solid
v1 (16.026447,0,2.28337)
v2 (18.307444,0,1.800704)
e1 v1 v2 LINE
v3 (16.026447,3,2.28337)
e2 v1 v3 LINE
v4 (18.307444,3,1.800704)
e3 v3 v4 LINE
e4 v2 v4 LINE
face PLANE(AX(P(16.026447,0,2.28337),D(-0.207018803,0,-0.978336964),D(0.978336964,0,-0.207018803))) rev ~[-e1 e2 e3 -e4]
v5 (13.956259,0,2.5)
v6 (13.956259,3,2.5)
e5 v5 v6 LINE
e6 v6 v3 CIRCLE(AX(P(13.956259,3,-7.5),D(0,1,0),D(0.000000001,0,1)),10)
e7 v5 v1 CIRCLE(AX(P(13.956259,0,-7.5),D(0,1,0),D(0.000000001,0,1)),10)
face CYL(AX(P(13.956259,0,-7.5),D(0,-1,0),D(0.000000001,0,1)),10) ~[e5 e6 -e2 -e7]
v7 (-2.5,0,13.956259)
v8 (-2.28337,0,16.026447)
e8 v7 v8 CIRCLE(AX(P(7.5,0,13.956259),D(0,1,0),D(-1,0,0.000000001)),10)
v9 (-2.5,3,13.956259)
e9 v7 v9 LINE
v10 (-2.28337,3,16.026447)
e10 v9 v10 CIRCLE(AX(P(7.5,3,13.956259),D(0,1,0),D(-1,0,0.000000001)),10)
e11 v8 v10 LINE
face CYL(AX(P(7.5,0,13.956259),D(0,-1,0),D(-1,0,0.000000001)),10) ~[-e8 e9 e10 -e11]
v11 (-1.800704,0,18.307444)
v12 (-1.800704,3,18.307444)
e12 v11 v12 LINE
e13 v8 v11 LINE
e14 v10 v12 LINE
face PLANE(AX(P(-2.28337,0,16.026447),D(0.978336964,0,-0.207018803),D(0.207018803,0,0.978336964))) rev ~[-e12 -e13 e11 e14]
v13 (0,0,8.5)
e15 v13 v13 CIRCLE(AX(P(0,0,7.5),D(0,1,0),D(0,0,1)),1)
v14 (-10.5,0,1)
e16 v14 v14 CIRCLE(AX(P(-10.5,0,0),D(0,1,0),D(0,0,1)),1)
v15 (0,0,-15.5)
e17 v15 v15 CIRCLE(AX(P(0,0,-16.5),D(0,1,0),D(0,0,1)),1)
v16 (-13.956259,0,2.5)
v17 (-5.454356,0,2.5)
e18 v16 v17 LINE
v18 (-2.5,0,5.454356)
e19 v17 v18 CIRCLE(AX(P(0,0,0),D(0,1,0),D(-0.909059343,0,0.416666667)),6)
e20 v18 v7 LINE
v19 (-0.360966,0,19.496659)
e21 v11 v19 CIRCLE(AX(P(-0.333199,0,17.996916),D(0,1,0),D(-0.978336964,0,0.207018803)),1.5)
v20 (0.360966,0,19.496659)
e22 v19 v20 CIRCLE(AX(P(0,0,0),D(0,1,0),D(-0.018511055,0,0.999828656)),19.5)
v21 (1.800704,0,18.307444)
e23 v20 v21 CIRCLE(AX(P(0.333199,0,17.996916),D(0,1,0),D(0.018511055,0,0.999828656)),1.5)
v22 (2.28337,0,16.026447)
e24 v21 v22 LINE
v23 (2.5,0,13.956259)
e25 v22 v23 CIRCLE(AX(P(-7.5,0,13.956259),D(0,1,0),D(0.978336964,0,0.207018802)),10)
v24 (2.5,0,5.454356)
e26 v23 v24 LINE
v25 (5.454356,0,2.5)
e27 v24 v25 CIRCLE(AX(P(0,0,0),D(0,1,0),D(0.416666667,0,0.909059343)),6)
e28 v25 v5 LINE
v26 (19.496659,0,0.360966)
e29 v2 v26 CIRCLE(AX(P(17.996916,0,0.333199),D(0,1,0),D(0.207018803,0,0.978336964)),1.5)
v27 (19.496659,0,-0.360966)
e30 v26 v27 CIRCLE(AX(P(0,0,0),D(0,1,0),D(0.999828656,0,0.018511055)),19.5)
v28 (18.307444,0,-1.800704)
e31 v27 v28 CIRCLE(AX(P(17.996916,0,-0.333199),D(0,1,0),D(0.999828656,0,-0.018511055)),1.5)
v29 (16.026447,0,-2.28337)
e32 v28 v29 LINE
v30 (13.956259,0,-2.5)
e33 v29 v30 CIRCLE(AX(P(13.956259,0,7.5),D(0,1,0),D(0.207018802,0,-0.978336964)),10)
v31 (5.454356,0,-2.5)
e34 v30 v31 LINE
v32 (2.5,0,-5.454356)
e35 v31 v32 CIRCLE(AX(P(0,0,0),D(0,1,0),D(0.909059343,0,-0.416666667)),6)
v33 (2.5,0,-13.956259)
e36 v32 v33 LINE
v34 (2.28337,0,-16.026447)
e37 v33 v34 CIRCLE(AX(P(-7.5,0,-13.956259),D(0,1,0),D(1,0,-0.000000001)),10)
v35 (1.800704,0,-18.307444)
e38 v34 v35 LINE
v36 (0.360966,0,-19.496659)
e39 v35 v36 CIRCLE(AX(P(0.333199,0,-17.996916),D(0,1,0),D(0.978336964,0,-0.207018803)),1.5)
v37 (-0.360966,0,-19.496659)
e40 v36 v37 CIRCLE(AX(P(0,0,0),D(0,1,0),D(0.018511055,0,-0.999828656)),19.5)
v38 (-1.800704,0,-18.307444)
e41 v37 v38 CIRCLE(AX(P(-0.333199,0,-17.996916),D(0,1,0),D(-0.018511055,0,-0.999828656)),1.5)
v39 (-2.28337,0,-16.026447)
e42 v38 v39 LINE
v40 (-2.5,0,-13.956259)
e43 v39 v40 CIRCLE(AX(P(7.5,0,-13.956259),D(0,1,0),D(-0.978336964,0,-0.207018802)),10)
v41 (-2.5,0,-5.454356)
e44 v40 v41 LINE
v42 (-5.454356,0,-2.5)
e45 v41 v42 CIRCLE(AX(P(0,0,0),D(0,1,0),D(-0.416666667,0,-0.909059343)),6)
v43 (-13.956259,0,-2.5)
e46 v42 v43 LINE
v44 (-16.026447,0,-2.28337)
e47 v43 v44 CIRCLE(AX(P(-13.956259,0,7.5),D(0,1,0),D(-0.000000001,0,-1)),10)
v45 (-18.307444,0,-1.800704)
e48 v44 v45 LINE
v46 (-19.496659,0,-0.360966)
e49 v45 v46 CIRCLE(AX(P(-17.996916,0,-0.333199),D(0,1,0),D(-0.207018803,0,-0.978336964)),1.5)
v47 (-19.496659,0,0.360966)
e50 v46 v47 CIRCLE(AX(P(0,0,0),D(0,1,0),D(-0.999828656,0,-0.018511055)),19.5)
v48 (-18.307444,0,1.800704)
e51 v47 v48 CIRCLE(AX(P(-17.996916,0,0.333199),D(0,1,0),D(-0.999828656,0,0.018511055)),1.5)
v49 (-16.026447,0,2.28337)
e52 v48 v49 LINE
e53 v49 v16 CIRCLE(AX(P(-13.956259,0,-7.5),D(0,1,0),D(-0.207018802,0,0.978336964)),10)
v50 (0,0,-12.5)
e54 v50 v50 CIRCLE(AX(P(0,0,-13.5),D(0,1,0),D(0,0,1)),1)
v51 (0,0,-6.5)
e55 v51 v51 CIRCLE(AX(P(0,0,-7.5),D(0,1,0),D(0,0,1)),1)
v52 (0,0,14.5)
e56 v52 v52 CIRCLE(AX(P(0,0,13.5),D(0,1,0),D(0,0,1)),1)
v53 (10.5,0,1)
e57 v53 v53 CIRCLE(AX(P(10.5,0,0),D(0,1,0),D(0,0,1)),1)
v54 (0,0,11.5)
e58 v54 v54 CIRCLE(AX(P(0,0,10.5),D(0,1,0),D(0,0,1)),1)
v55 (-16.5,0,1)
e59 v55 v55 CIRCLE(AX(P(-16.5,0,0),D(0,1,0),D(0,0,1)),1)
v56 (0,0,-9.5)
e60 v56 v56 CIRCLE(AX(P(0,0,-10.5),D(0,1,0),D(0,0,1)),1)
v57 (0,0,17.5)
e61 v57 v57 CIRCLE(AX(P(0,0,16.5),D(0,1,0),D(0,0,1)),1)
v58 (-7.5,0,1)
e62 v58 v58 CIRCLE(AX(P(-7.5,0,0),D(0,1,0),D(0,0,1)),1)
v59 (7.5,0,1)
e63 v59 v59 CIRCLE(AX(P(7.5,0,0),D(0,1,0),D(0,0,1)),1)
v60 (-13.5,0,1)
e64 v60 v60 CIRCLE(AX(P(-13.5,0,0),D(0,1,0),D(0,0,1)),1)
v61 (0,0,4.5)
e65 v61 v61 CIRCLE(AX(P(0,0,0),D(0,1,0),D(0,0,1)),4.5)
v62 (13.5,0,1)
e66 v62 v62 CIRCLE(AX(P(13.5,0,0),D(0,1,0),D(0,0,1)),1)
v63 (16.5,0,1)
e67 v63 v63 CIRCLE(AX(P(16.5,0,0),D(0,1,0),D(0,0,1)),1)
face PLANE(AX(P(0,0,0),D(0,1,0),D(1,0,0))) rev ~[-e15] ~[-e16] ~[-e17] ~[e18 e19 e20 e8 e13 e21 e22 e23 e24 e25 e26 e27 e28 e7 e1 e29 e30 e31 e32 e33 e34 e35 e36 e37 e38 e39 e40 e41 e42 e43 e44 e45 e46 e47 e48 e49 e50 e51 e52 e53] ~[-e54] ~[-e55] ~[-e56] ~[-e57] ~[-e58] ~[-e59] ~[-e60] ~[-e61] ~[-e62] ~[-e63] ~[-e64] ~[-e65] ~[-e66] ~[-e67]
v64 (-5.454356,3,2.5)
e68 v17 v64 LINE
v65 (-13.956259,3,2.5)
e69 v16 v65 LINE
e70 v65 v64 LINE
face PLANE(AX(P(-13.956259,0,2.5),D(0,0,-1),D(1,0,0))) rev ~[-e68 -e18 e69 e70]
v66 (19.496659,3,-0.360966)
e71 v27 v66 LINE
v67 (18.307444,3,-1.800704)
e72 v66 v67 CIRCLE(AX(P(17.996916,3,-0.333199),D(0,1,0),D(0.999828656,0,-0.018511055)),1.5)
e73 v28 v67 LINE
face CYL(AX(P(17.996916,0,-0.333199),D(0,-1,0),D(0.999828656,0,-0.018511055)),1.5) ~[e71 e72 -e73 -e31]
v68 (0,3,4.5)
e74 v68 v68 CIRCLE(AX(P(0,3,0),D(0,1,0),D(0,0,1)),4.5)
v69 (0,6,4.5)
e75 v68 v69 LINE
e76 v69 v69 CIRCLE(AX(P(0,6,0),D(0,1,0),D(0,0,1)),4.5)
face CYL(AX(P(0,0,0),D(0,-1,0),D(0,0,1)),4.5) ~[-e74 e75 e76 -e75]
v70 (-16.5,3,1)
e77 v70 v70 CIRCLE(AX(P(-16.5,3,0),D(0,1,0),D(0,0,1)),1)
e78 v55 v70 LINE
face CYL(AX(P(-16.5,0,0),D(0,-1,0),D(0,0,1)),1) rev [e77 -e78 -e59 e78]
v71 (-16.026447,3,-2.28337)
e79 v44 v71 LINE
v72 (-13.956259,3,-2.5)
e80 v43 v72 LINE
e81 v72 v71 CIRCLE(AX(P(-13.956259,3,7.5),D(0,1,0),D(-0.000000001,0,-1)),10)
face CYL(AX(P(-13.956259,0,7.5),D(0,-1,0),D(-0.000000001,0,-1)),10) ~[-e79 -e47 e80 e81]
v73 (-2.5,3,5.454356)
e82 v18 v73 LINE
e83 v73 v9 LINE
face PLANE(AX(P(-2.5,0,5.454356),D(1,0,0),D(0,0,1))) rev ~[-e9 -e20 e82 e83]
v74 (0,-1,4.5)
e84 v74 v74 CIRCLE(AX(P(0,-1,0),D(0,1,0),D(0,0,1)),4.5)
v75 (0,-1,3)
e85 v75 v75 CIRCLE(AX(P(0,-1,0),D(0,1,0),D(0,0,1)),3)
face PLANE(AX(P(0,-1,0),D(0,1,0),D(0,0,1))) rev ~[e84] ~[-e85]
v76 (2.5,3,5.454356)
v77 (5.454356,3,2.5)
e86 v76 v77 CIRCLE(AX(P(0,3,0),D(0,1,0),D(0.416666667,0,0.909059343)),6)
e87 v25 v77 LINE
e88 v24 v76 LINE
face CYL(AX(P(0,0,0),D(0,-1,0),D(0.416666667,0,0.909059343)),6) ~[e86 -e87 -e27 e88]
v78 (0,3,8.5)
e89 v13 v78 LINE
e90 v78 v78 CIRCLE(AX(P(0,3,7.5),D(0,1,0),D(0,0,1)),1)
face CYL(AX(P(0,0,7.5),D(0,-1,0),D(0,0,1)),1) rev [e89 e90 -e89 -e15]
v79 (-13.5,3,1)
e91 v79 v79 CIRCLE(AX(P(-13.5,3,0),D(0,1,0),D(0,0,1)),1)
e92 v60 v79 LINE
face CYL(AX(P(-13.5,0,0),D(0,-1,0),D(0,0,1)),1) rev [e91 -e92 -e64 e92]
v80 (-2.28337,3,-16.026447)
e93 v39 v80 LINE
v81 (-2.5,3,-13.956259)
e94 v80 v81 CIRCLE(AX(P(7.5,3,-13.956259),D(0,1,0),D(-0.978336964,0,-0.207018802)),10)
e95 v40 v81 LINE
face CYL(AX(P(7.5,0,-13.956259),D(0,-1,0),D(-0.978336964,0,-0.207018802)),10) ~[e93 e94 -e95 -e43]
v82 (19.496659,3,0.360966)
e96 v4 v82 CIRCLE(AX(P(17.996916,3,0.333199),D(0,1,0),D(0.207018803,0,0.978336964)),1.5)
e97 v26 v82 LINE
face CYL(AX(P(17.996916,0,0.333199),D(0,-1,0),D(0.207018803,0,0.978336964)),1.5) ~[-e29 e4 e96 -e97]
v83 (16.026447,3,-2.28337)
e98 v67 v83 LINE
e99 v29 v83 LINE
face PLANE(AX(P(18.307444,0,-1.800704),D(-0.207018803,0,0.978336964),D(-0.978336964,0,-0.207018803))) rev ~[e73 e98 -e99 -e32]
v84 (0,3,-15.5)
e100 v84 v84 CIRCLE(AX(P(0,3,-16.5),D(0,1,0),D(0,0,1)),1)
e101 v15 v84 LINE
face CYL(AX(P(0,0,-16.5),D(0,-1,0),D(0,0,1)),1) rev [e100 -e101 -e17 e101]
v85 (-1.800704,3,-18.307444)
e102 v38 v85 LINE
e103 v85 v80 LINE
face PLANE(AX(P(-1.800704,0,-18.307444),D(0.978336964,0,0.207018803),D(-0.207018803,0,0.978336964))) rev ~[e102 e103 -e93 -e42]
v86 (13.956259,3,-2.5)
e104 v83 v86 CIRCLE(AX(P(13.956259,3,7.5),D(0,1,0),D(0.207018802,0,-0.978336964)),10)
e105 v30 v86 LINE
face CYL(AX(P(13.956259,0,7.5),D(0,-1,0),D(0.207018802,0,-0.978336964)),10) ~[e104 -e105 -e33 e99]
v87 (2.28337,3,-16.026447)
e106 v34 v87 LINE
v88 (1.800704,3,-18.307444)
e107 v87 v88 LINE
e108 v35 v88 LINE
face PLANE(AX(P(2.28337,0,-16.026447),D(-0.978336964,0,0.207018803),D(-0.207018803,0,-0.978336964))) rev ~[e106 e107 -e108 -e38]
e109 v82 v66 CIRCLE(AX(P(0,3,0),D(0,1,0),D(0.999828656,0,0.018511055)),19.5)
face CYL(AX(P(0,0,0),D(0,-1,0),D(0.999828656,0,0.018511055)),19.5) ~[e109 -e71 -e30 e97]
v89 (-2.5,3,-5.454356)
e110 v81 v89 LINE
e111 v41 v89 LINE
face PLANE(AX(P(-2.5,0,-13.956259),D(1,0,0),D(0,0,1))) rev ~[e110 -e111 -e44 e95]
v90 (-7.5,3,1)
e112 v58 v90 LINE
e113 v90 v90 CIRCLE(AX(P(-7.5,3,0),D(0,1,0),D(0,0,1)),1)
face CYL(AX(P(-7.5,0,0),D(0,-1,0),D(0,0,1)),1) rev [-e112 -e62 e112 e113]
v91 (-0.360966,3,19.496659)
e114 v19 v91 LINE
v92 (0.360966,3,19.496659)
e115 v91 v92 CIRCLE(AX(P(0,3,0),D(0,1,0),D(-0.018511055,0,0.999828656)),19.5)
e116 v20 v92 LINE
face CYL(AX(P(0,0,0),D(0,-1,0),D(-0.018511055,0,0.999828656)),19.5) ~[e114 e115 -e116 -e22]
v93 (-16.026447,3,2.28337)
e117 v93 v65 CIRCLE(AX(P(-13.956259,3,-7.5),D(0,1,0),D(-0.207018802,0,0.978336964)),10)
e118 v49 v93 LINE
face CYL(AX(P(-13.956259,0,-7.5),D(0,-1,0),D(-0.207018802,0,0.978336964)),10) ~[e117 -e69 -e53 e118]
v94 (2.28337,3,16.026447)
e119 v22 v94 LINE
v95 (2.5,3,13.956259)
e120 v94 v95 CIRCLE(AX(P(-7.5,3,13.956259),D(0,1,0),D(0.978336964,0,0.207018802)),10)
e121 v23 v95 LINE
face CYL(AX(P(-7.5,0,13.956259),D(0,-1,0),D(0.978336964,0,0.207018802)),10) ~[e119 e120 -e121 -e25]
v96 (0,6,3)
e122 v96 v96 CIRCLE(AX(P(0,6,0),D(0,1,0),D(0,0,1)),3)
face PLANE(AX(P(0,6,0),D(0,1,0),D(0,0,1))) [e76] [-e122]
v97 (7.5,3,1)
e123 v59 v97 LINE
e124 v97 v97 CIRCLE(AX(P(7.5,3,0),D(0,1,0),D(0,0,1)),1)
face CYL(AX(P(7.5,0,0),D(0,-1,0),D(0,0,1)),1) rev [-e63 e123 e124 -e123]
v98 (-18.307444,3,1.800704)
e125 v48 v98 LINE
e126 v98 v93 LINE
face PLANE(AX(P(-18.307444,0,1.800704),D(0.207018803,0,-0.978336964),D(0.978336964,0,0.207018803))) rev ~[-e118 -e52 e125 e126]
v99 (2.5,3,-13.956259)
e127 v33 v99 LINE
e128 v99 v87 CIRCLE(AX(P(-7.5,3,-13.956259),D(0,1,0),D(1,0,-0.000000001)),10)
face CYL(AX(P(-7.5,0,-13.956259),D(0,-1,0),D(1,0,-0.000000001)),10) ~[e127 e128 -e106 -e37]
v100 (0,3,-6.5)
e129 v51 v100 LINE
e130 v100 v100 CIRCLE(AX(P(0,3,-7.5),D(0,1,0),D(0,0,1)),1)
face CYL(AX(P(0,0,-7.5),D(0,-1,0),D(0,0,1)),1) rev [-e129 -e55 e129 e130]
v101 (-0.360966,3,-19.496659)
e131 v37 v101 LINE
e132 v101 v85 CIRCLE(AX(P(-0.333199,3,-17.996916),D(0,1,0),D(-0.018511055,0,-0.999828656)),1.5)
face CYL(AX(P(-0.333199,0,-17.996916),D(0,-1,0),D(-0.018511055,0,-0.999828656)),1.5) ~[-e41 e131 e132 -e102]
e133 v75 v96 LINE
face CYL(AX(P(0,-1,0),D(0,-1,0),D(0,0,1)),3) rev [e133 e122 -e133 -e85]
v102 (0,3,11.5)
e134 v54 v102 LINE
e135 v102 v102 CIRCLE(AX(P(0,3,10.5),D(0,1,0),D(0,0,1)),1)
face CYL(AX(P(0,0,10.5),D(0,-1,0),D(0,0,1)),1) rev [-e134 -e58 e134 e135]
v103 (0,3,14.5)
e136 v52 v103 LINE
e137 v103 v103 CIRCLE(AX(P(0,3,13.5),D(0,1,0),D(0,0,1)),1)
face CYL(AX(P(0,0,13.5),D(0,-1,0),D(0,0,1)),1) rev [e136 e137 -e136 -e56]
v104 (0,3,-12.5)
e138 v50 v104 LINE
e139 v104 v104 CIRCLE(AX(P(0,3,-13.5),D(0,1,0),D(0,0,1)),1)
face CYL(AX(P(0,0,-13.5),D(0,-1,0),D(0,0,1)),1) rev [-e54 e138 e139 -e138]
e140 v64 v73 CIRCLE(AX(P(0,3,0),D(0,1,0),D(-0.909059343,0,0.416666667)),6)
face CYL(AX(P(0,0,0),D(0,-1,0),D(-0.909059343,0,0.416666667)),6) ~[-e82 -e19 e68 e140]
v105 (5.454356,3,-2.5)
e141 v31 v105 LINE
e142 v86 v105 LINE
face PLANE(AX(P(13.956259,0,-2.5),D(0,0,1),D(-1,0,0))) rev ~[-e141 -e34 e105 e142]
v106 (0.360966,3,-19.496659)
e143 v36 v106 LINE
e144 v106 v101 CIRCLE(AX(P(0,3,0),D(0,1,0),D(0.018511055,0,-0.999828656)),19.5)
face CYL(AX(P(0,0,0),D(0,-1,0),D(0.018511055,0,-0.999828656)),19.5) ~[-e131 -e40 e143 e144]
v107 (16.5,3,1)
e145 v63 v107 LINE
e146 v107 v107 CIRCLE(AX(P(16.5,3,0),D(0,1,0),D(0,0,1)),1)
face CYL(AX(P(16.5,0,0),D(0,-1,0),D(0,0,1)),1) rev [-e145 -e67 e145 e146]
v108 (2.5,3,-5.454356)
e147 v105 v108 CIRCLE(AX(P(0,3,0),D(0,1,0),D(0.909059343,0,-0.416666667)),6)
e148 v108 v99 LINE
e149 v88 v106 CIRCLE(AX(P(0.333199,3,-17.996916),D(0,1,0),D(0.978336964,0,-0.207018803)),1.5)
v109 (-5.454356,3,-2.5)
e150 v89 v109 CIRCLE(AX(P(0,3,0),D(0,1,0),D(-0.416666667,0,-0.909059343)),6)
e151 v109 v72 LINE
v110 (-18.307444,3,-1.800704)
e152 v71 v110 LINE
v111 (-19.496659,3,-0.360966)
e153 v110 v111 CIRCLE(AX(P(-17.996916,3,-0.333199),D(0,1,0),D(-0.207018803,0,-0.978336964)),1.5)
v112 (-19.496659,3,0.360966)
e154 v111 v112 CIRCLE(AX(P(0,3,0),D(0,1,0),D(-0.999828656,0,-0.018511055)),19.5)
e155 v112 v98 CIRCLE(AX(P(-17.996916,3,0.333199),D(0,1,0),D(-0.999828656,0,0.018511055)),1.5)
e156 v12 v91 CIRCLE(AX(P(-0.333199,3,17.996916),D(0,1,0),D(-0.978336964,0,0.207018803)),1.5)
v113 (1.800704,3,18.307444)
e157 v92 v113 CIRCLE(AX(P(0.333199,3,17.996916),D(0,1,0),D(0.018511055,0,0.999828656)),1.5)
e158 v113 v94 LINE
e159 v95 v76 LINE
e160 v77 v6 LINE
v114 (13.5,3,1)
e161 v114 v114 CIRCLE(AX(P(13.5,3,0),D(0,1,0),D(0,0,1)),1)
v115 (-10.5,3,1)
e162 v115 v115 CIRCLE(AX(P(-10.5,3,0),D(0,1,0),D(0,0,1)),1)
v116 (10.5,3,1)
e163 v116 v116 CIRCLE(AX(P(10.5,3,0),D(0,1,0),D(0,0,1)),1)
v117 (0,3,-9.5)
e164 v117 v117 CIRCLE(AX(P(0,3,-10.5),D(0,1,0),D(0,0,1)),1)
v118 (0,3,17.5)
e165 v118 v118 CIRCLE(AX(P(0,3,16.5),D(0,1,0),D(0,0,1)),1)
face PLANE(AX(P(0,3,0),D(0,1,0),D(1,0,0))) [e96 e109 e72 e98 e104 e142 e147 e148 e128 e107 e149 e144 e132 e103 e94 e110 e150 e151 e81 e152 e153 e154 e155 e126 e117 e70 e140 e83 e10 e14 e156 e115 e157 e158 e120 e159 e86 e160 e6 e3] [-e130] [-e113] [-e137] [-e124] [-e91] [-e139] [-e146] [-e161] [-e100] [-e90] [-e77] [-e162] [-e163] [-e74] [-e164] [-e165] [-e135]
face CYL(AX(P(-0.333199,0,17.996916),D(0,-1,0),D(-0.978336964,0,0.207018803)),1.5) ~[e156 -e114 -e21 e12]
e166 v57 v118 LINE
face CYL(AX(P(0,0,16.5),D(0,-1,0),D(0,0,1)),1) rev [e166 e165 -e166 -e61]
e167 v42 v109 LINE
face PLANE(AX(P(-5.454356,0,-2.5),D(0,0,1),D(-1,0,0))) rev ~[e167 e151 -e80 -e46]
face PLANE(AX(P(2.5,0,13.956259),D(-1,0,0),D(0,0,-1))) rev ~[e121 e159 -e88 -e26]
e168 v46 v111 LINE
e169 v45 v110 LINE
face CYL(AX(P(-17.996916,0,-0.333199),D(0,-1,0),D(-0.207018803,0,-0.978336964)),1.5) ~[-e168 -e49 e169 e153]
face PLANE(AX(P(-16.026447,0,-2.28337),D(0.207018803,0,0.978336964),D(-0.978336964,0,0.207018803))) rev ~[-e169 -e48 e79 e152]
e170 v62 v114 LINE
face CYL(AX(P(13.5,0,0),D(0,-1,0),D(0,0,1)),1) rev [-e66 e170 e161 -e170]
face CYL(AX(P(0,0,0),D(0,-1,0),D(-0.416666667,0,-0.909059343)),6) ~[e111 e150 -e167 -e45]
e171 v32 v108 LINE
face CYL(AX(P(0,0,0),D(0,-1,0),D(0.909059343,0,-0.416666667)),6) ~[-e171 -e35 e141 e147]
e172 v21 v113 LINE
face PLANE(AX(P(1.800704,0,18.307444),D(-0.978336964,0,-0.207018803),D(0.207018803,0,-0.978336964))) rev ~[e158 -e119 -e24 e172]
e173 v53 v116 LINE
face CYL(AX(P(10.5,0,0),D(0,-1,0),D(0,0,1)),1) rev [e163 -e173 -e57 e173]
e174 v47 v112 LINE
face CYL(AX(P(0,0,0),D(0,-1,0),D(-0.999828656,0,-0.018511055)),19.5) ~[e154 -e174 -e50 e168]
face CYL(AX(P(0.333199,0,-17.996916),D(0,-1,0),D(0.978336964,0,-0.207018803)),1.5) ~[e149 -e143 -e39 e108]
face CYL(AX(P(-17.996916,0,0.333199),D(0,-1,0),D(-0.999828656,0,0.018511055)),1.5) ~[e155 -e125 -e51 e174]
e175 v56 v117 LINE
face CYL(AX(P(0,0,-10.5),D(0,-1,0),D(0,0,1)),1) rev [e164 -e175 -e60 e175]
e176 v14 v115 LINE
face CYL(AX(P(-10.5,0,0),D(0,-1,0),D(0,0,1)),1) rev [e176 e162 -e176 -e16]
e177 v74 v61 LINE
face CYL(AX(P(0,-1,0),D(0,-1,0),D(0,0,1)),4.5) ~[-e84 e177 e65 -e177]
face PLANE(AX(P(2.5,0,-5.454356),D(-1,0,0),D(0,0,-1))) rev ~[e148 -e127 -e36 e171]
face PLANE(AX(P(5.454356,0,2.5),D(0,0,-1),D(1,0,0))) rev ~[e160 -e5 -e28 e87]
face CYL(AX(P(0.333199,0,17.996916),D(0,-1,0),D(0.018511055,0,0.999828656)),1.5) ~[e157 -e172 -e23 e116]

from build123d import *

# Parameters (mm, degrees)
SKETCH1_R           = 1
SKETCH1_R_2         = 4.5
BOSS_EXTRUDE1_DEPTH = 3
SKETCH1_4_R         = 4.5
SKETCH1_4_R_2       = 3
BOSS_EXTRUDE2_DEPTH = 6
BOSS_EXTRUDE3_START = -1
SKETCH1_5_R         = 4.5
SKETCH1_5_R_2       = 3
BOSS_EXTRUDE3_DEPTH = 1


with BuildPart() as part:
    # Sketch1 → Boss-Extrude1 (new body)
    with BuildSketch(Plane(origin=(0, 0, 0), x_dir=(1, 0, 0), z_dir=(0, 1, 0))):
        with BuildLine():
            ThreePointArc((-0.360965573, 19.496658787), (-1.288456839, 19.153411563), (-1.800704436, 18.307444008))
            Line((-1.800704436, 18.307444008), (-2.283369641, 16.026447288))
            ThreePointArc((-2.283369641, 16.026447288), (-2.445694958, 14.997005048), (-2.5, 13.956259259))
            Line((-2.5, 13.956259259), (-2.5, 5.454356057))
            ThreePointArc((-2.5, 5.454356057), (-4.242640687, 4.242640687), (-5.454356057, 2.5))
            Line((-5.454356057, 2.5), (-13.956259259, 2.5))
            ThreePointArc((-13.956259259, 2.5), (-14.997005048, 2.445694958), (-16.026447288, 2.283369641))
            Line((-16.026447288, 2.283369641), (-18.307444008, 1.800704436))
            ThreePointArc((-18.307444008, 1.800704436), (-19.153411563, 1.288456839), (-19.496658787, 0.360965573))
            ThreePointArc((-19.496658787, 0.360965573), (-19.5, 0), (-19.496658787, -0.360965573))
            ThreePointArc((-19.496658787, -0.360965573), (-19.153411563, -1.288456839), (-18.307444008, -1.800704436))
            Line((-18.307444008, -1.800704436), (-16.026447288, -2.283369641))
            ThreePointArc((-16.026447288, -2.283369641), (-14.997005048, -2.445694958), (-13.956259259, -2.5))
            Line((-13.956259259, -2.5), (-5.454356057, -2.5))
            ThreePointArc((-5.454356057, -2.5), (-4.242640687, -4.242640687), (-2.5, -5.454356057))
            Line((-2.5, -5.454356057), (-2.5, -13.956259259))
            ThreePointArc((-2.5, -13.956259259), (-2.445694958, -14.997005048), (-2.283369641, -16.026447288))
            Line((-2.283369641, -16.026447288), (-1.800704436, -18.307444008))
            ThreePointArc((-1.800704436, -18.307444008), (-1.288456839, -19.153411563), (-0.360965573, -19.496658787))
            ThreePointArc((-0.360965573, -19.496658787), (0, -19.5), (0.360965573, -19.496658787))
            ThreePointArc((0.360965573, -19.496658787), (1.288456839, -19.153411563), (1.800704436, -18.307444008))
            Line((1.800704436, -18.307444008), (2.283369641, -16.026447288))
            ThreePointArc((2.283369641, -16.026447288), (2.445694958, -14.997005048), (2.5, -13.956259259))
            Line((2.5, -13.956259259), (2.5, -5.454356057))
            ThreePointArc((2.5, -5.454356057), (4.242640687, -4.242640687), (5.454356057, -2.5))
            Line((5.454356057, -2.5), (13.956259259, -2.5))
            ThreePointArc((13.956259259, -2.5), (14.997005048, -2.445694958), (16.026447288, -2.283369641))
            Line((16.026447288, -2.283369641), (18.307444008, -1.800704436))
            ThreePointArc((18.307444008, -1.800704436), (19.153411563, -1.288456839), (19.496658787, -0.360965573))
            ThreePointArc((19.496658787, -0.360965573), (19.5, 0), (19.496658787, 0.360965573))
            ThreePointArc((19.496658787, 0.360965573), (19.153411563, 1.288456839), (18.307444008, 1.800704436))
            Line((18.307444008, 1.800704436), (16.026447288, 2.283369641))
            ThreePointArc((16.026447288, 2.283369641), (14.997005048, 2.445694958), (13.956259259, 2.5))
            Line((13.956259259, 2.5), (5.454356057, 2.5))
            ThreePointArc((5.454356057, 2.5), (4.242640687, 4.242640687), (2.5, 5.454356057))
            Line((2.5, 5.454356057), (2.5, 13.956259259))
            ThreePointArc((2.5, 13.956259259), (2.445694958, 14.997005048), (2.283369641, 16.026447288))
            Line((2.283369641, 16.026447288), (1.800704436, 18.307444008))
            ThreePointArc((1.800704436, 18.307444008), (1.288456839, 19.153411563), (0.360965573, 19.496658787))
            ThreePointArc((0.360965573, 19.496658787), (0, 19.5), (-0.360965573, 19.496658787))
        make_face()
        with Locations((-16.5, 0)):
            Circle(SKETCH1_R, mode=Mode.SUBTRACT)
        with Locations((-13.5, 0)):
            Circle(SKETCH1_R, mode=Mode.SUBTRACT)
        with Locations((-10.5, 0)):
            Circle(SKETCH1_R, mode=Mode.SUBTRACT)
        with Locations((-7.5, 0)):
            Circle(SKETCH1_R, mode=Mode.SUBTRACT)
        with Locations((0, -16.5)):
            Circle(SKETCH1_R, mode=Mode.SUBTRACT)
        with Locations((0, -13.5)):
            Circle(SKETCH1_R, mode=Mode.SUBTRACT)
        with Locations((0, -10.5)):
            Circle(SKETCH1_R, mode=Mode.SUBTRACT)
        with Locations((0, -7.5)):
            Circle(SKETCH1_R, mode=Mode.SUBTRACT)
        Circle(SKETCH1_R_2, mode=Mode.SUBTRACT)
        with Locations((7.5, 0)):
            Circle(SKETCH1_R, mode=Mode.SUBTRACT)
        with Locations((0, 7.5)):
            Circle(SKETCH1_R, mode=Mode.SUBTRACT)
        with Locations((10.5, 0)):
            Circle(SKETCH1_R, mode=Mode.SUBTRACT)
        with Locations((13.5, 0)):
            Circle(SKETCH1_R, mode=Mode.SUBTRACT)
        with Locations((16.5, 0)):
            Circle(SKETCH1_R, mode=Mode.SUBTRACT)
        with Locations((0, 10.5)):
            Circle(SKETCH1_R, mode=Mode.SUBTRACT)
        with Locations((0, 13.5)):
            Circle(SKETCH1_R, mode=Mode.SUBTRACT)
        with Locations((0, 16.5)):
            Circle(SKETCH1_R, mode=Mode.SUBTRACT)
    extrude(amount=BOSS_EXTRUDE1_DEPTH)

    # Sketch1<4> → Boss-Extrude2 (add)
    with BuildSketch(Plane(origin=(0, 0, 0), x_dir=(1, 0, 0), z_dir=(0, 1, 0))):
        Circle(SKETCH1_4_R)
        Circle(SKETCH1_4_R_2, mode=Mode.SUBTRACT)
    extrude(amount=BOSS_EXTRUDE2_DEPTH)

    # Sketch1<5> → Boss-Extrude3 (add)
    with BuildSketch(Plane(origin=(0, 0, 0), x_dir=(1, 0, 0), z_dir=(0, 1, 0)).offset(BOSS_EXTRUDE3_START)):
        Circle(SKETCH1_5_R)
        Circle(SKETCH1_5_R_2, mode=Mode.SUBTRACT)
    extrude(amount=BOSS_EXTRUDE3_DEPTH)


solid = part.part
